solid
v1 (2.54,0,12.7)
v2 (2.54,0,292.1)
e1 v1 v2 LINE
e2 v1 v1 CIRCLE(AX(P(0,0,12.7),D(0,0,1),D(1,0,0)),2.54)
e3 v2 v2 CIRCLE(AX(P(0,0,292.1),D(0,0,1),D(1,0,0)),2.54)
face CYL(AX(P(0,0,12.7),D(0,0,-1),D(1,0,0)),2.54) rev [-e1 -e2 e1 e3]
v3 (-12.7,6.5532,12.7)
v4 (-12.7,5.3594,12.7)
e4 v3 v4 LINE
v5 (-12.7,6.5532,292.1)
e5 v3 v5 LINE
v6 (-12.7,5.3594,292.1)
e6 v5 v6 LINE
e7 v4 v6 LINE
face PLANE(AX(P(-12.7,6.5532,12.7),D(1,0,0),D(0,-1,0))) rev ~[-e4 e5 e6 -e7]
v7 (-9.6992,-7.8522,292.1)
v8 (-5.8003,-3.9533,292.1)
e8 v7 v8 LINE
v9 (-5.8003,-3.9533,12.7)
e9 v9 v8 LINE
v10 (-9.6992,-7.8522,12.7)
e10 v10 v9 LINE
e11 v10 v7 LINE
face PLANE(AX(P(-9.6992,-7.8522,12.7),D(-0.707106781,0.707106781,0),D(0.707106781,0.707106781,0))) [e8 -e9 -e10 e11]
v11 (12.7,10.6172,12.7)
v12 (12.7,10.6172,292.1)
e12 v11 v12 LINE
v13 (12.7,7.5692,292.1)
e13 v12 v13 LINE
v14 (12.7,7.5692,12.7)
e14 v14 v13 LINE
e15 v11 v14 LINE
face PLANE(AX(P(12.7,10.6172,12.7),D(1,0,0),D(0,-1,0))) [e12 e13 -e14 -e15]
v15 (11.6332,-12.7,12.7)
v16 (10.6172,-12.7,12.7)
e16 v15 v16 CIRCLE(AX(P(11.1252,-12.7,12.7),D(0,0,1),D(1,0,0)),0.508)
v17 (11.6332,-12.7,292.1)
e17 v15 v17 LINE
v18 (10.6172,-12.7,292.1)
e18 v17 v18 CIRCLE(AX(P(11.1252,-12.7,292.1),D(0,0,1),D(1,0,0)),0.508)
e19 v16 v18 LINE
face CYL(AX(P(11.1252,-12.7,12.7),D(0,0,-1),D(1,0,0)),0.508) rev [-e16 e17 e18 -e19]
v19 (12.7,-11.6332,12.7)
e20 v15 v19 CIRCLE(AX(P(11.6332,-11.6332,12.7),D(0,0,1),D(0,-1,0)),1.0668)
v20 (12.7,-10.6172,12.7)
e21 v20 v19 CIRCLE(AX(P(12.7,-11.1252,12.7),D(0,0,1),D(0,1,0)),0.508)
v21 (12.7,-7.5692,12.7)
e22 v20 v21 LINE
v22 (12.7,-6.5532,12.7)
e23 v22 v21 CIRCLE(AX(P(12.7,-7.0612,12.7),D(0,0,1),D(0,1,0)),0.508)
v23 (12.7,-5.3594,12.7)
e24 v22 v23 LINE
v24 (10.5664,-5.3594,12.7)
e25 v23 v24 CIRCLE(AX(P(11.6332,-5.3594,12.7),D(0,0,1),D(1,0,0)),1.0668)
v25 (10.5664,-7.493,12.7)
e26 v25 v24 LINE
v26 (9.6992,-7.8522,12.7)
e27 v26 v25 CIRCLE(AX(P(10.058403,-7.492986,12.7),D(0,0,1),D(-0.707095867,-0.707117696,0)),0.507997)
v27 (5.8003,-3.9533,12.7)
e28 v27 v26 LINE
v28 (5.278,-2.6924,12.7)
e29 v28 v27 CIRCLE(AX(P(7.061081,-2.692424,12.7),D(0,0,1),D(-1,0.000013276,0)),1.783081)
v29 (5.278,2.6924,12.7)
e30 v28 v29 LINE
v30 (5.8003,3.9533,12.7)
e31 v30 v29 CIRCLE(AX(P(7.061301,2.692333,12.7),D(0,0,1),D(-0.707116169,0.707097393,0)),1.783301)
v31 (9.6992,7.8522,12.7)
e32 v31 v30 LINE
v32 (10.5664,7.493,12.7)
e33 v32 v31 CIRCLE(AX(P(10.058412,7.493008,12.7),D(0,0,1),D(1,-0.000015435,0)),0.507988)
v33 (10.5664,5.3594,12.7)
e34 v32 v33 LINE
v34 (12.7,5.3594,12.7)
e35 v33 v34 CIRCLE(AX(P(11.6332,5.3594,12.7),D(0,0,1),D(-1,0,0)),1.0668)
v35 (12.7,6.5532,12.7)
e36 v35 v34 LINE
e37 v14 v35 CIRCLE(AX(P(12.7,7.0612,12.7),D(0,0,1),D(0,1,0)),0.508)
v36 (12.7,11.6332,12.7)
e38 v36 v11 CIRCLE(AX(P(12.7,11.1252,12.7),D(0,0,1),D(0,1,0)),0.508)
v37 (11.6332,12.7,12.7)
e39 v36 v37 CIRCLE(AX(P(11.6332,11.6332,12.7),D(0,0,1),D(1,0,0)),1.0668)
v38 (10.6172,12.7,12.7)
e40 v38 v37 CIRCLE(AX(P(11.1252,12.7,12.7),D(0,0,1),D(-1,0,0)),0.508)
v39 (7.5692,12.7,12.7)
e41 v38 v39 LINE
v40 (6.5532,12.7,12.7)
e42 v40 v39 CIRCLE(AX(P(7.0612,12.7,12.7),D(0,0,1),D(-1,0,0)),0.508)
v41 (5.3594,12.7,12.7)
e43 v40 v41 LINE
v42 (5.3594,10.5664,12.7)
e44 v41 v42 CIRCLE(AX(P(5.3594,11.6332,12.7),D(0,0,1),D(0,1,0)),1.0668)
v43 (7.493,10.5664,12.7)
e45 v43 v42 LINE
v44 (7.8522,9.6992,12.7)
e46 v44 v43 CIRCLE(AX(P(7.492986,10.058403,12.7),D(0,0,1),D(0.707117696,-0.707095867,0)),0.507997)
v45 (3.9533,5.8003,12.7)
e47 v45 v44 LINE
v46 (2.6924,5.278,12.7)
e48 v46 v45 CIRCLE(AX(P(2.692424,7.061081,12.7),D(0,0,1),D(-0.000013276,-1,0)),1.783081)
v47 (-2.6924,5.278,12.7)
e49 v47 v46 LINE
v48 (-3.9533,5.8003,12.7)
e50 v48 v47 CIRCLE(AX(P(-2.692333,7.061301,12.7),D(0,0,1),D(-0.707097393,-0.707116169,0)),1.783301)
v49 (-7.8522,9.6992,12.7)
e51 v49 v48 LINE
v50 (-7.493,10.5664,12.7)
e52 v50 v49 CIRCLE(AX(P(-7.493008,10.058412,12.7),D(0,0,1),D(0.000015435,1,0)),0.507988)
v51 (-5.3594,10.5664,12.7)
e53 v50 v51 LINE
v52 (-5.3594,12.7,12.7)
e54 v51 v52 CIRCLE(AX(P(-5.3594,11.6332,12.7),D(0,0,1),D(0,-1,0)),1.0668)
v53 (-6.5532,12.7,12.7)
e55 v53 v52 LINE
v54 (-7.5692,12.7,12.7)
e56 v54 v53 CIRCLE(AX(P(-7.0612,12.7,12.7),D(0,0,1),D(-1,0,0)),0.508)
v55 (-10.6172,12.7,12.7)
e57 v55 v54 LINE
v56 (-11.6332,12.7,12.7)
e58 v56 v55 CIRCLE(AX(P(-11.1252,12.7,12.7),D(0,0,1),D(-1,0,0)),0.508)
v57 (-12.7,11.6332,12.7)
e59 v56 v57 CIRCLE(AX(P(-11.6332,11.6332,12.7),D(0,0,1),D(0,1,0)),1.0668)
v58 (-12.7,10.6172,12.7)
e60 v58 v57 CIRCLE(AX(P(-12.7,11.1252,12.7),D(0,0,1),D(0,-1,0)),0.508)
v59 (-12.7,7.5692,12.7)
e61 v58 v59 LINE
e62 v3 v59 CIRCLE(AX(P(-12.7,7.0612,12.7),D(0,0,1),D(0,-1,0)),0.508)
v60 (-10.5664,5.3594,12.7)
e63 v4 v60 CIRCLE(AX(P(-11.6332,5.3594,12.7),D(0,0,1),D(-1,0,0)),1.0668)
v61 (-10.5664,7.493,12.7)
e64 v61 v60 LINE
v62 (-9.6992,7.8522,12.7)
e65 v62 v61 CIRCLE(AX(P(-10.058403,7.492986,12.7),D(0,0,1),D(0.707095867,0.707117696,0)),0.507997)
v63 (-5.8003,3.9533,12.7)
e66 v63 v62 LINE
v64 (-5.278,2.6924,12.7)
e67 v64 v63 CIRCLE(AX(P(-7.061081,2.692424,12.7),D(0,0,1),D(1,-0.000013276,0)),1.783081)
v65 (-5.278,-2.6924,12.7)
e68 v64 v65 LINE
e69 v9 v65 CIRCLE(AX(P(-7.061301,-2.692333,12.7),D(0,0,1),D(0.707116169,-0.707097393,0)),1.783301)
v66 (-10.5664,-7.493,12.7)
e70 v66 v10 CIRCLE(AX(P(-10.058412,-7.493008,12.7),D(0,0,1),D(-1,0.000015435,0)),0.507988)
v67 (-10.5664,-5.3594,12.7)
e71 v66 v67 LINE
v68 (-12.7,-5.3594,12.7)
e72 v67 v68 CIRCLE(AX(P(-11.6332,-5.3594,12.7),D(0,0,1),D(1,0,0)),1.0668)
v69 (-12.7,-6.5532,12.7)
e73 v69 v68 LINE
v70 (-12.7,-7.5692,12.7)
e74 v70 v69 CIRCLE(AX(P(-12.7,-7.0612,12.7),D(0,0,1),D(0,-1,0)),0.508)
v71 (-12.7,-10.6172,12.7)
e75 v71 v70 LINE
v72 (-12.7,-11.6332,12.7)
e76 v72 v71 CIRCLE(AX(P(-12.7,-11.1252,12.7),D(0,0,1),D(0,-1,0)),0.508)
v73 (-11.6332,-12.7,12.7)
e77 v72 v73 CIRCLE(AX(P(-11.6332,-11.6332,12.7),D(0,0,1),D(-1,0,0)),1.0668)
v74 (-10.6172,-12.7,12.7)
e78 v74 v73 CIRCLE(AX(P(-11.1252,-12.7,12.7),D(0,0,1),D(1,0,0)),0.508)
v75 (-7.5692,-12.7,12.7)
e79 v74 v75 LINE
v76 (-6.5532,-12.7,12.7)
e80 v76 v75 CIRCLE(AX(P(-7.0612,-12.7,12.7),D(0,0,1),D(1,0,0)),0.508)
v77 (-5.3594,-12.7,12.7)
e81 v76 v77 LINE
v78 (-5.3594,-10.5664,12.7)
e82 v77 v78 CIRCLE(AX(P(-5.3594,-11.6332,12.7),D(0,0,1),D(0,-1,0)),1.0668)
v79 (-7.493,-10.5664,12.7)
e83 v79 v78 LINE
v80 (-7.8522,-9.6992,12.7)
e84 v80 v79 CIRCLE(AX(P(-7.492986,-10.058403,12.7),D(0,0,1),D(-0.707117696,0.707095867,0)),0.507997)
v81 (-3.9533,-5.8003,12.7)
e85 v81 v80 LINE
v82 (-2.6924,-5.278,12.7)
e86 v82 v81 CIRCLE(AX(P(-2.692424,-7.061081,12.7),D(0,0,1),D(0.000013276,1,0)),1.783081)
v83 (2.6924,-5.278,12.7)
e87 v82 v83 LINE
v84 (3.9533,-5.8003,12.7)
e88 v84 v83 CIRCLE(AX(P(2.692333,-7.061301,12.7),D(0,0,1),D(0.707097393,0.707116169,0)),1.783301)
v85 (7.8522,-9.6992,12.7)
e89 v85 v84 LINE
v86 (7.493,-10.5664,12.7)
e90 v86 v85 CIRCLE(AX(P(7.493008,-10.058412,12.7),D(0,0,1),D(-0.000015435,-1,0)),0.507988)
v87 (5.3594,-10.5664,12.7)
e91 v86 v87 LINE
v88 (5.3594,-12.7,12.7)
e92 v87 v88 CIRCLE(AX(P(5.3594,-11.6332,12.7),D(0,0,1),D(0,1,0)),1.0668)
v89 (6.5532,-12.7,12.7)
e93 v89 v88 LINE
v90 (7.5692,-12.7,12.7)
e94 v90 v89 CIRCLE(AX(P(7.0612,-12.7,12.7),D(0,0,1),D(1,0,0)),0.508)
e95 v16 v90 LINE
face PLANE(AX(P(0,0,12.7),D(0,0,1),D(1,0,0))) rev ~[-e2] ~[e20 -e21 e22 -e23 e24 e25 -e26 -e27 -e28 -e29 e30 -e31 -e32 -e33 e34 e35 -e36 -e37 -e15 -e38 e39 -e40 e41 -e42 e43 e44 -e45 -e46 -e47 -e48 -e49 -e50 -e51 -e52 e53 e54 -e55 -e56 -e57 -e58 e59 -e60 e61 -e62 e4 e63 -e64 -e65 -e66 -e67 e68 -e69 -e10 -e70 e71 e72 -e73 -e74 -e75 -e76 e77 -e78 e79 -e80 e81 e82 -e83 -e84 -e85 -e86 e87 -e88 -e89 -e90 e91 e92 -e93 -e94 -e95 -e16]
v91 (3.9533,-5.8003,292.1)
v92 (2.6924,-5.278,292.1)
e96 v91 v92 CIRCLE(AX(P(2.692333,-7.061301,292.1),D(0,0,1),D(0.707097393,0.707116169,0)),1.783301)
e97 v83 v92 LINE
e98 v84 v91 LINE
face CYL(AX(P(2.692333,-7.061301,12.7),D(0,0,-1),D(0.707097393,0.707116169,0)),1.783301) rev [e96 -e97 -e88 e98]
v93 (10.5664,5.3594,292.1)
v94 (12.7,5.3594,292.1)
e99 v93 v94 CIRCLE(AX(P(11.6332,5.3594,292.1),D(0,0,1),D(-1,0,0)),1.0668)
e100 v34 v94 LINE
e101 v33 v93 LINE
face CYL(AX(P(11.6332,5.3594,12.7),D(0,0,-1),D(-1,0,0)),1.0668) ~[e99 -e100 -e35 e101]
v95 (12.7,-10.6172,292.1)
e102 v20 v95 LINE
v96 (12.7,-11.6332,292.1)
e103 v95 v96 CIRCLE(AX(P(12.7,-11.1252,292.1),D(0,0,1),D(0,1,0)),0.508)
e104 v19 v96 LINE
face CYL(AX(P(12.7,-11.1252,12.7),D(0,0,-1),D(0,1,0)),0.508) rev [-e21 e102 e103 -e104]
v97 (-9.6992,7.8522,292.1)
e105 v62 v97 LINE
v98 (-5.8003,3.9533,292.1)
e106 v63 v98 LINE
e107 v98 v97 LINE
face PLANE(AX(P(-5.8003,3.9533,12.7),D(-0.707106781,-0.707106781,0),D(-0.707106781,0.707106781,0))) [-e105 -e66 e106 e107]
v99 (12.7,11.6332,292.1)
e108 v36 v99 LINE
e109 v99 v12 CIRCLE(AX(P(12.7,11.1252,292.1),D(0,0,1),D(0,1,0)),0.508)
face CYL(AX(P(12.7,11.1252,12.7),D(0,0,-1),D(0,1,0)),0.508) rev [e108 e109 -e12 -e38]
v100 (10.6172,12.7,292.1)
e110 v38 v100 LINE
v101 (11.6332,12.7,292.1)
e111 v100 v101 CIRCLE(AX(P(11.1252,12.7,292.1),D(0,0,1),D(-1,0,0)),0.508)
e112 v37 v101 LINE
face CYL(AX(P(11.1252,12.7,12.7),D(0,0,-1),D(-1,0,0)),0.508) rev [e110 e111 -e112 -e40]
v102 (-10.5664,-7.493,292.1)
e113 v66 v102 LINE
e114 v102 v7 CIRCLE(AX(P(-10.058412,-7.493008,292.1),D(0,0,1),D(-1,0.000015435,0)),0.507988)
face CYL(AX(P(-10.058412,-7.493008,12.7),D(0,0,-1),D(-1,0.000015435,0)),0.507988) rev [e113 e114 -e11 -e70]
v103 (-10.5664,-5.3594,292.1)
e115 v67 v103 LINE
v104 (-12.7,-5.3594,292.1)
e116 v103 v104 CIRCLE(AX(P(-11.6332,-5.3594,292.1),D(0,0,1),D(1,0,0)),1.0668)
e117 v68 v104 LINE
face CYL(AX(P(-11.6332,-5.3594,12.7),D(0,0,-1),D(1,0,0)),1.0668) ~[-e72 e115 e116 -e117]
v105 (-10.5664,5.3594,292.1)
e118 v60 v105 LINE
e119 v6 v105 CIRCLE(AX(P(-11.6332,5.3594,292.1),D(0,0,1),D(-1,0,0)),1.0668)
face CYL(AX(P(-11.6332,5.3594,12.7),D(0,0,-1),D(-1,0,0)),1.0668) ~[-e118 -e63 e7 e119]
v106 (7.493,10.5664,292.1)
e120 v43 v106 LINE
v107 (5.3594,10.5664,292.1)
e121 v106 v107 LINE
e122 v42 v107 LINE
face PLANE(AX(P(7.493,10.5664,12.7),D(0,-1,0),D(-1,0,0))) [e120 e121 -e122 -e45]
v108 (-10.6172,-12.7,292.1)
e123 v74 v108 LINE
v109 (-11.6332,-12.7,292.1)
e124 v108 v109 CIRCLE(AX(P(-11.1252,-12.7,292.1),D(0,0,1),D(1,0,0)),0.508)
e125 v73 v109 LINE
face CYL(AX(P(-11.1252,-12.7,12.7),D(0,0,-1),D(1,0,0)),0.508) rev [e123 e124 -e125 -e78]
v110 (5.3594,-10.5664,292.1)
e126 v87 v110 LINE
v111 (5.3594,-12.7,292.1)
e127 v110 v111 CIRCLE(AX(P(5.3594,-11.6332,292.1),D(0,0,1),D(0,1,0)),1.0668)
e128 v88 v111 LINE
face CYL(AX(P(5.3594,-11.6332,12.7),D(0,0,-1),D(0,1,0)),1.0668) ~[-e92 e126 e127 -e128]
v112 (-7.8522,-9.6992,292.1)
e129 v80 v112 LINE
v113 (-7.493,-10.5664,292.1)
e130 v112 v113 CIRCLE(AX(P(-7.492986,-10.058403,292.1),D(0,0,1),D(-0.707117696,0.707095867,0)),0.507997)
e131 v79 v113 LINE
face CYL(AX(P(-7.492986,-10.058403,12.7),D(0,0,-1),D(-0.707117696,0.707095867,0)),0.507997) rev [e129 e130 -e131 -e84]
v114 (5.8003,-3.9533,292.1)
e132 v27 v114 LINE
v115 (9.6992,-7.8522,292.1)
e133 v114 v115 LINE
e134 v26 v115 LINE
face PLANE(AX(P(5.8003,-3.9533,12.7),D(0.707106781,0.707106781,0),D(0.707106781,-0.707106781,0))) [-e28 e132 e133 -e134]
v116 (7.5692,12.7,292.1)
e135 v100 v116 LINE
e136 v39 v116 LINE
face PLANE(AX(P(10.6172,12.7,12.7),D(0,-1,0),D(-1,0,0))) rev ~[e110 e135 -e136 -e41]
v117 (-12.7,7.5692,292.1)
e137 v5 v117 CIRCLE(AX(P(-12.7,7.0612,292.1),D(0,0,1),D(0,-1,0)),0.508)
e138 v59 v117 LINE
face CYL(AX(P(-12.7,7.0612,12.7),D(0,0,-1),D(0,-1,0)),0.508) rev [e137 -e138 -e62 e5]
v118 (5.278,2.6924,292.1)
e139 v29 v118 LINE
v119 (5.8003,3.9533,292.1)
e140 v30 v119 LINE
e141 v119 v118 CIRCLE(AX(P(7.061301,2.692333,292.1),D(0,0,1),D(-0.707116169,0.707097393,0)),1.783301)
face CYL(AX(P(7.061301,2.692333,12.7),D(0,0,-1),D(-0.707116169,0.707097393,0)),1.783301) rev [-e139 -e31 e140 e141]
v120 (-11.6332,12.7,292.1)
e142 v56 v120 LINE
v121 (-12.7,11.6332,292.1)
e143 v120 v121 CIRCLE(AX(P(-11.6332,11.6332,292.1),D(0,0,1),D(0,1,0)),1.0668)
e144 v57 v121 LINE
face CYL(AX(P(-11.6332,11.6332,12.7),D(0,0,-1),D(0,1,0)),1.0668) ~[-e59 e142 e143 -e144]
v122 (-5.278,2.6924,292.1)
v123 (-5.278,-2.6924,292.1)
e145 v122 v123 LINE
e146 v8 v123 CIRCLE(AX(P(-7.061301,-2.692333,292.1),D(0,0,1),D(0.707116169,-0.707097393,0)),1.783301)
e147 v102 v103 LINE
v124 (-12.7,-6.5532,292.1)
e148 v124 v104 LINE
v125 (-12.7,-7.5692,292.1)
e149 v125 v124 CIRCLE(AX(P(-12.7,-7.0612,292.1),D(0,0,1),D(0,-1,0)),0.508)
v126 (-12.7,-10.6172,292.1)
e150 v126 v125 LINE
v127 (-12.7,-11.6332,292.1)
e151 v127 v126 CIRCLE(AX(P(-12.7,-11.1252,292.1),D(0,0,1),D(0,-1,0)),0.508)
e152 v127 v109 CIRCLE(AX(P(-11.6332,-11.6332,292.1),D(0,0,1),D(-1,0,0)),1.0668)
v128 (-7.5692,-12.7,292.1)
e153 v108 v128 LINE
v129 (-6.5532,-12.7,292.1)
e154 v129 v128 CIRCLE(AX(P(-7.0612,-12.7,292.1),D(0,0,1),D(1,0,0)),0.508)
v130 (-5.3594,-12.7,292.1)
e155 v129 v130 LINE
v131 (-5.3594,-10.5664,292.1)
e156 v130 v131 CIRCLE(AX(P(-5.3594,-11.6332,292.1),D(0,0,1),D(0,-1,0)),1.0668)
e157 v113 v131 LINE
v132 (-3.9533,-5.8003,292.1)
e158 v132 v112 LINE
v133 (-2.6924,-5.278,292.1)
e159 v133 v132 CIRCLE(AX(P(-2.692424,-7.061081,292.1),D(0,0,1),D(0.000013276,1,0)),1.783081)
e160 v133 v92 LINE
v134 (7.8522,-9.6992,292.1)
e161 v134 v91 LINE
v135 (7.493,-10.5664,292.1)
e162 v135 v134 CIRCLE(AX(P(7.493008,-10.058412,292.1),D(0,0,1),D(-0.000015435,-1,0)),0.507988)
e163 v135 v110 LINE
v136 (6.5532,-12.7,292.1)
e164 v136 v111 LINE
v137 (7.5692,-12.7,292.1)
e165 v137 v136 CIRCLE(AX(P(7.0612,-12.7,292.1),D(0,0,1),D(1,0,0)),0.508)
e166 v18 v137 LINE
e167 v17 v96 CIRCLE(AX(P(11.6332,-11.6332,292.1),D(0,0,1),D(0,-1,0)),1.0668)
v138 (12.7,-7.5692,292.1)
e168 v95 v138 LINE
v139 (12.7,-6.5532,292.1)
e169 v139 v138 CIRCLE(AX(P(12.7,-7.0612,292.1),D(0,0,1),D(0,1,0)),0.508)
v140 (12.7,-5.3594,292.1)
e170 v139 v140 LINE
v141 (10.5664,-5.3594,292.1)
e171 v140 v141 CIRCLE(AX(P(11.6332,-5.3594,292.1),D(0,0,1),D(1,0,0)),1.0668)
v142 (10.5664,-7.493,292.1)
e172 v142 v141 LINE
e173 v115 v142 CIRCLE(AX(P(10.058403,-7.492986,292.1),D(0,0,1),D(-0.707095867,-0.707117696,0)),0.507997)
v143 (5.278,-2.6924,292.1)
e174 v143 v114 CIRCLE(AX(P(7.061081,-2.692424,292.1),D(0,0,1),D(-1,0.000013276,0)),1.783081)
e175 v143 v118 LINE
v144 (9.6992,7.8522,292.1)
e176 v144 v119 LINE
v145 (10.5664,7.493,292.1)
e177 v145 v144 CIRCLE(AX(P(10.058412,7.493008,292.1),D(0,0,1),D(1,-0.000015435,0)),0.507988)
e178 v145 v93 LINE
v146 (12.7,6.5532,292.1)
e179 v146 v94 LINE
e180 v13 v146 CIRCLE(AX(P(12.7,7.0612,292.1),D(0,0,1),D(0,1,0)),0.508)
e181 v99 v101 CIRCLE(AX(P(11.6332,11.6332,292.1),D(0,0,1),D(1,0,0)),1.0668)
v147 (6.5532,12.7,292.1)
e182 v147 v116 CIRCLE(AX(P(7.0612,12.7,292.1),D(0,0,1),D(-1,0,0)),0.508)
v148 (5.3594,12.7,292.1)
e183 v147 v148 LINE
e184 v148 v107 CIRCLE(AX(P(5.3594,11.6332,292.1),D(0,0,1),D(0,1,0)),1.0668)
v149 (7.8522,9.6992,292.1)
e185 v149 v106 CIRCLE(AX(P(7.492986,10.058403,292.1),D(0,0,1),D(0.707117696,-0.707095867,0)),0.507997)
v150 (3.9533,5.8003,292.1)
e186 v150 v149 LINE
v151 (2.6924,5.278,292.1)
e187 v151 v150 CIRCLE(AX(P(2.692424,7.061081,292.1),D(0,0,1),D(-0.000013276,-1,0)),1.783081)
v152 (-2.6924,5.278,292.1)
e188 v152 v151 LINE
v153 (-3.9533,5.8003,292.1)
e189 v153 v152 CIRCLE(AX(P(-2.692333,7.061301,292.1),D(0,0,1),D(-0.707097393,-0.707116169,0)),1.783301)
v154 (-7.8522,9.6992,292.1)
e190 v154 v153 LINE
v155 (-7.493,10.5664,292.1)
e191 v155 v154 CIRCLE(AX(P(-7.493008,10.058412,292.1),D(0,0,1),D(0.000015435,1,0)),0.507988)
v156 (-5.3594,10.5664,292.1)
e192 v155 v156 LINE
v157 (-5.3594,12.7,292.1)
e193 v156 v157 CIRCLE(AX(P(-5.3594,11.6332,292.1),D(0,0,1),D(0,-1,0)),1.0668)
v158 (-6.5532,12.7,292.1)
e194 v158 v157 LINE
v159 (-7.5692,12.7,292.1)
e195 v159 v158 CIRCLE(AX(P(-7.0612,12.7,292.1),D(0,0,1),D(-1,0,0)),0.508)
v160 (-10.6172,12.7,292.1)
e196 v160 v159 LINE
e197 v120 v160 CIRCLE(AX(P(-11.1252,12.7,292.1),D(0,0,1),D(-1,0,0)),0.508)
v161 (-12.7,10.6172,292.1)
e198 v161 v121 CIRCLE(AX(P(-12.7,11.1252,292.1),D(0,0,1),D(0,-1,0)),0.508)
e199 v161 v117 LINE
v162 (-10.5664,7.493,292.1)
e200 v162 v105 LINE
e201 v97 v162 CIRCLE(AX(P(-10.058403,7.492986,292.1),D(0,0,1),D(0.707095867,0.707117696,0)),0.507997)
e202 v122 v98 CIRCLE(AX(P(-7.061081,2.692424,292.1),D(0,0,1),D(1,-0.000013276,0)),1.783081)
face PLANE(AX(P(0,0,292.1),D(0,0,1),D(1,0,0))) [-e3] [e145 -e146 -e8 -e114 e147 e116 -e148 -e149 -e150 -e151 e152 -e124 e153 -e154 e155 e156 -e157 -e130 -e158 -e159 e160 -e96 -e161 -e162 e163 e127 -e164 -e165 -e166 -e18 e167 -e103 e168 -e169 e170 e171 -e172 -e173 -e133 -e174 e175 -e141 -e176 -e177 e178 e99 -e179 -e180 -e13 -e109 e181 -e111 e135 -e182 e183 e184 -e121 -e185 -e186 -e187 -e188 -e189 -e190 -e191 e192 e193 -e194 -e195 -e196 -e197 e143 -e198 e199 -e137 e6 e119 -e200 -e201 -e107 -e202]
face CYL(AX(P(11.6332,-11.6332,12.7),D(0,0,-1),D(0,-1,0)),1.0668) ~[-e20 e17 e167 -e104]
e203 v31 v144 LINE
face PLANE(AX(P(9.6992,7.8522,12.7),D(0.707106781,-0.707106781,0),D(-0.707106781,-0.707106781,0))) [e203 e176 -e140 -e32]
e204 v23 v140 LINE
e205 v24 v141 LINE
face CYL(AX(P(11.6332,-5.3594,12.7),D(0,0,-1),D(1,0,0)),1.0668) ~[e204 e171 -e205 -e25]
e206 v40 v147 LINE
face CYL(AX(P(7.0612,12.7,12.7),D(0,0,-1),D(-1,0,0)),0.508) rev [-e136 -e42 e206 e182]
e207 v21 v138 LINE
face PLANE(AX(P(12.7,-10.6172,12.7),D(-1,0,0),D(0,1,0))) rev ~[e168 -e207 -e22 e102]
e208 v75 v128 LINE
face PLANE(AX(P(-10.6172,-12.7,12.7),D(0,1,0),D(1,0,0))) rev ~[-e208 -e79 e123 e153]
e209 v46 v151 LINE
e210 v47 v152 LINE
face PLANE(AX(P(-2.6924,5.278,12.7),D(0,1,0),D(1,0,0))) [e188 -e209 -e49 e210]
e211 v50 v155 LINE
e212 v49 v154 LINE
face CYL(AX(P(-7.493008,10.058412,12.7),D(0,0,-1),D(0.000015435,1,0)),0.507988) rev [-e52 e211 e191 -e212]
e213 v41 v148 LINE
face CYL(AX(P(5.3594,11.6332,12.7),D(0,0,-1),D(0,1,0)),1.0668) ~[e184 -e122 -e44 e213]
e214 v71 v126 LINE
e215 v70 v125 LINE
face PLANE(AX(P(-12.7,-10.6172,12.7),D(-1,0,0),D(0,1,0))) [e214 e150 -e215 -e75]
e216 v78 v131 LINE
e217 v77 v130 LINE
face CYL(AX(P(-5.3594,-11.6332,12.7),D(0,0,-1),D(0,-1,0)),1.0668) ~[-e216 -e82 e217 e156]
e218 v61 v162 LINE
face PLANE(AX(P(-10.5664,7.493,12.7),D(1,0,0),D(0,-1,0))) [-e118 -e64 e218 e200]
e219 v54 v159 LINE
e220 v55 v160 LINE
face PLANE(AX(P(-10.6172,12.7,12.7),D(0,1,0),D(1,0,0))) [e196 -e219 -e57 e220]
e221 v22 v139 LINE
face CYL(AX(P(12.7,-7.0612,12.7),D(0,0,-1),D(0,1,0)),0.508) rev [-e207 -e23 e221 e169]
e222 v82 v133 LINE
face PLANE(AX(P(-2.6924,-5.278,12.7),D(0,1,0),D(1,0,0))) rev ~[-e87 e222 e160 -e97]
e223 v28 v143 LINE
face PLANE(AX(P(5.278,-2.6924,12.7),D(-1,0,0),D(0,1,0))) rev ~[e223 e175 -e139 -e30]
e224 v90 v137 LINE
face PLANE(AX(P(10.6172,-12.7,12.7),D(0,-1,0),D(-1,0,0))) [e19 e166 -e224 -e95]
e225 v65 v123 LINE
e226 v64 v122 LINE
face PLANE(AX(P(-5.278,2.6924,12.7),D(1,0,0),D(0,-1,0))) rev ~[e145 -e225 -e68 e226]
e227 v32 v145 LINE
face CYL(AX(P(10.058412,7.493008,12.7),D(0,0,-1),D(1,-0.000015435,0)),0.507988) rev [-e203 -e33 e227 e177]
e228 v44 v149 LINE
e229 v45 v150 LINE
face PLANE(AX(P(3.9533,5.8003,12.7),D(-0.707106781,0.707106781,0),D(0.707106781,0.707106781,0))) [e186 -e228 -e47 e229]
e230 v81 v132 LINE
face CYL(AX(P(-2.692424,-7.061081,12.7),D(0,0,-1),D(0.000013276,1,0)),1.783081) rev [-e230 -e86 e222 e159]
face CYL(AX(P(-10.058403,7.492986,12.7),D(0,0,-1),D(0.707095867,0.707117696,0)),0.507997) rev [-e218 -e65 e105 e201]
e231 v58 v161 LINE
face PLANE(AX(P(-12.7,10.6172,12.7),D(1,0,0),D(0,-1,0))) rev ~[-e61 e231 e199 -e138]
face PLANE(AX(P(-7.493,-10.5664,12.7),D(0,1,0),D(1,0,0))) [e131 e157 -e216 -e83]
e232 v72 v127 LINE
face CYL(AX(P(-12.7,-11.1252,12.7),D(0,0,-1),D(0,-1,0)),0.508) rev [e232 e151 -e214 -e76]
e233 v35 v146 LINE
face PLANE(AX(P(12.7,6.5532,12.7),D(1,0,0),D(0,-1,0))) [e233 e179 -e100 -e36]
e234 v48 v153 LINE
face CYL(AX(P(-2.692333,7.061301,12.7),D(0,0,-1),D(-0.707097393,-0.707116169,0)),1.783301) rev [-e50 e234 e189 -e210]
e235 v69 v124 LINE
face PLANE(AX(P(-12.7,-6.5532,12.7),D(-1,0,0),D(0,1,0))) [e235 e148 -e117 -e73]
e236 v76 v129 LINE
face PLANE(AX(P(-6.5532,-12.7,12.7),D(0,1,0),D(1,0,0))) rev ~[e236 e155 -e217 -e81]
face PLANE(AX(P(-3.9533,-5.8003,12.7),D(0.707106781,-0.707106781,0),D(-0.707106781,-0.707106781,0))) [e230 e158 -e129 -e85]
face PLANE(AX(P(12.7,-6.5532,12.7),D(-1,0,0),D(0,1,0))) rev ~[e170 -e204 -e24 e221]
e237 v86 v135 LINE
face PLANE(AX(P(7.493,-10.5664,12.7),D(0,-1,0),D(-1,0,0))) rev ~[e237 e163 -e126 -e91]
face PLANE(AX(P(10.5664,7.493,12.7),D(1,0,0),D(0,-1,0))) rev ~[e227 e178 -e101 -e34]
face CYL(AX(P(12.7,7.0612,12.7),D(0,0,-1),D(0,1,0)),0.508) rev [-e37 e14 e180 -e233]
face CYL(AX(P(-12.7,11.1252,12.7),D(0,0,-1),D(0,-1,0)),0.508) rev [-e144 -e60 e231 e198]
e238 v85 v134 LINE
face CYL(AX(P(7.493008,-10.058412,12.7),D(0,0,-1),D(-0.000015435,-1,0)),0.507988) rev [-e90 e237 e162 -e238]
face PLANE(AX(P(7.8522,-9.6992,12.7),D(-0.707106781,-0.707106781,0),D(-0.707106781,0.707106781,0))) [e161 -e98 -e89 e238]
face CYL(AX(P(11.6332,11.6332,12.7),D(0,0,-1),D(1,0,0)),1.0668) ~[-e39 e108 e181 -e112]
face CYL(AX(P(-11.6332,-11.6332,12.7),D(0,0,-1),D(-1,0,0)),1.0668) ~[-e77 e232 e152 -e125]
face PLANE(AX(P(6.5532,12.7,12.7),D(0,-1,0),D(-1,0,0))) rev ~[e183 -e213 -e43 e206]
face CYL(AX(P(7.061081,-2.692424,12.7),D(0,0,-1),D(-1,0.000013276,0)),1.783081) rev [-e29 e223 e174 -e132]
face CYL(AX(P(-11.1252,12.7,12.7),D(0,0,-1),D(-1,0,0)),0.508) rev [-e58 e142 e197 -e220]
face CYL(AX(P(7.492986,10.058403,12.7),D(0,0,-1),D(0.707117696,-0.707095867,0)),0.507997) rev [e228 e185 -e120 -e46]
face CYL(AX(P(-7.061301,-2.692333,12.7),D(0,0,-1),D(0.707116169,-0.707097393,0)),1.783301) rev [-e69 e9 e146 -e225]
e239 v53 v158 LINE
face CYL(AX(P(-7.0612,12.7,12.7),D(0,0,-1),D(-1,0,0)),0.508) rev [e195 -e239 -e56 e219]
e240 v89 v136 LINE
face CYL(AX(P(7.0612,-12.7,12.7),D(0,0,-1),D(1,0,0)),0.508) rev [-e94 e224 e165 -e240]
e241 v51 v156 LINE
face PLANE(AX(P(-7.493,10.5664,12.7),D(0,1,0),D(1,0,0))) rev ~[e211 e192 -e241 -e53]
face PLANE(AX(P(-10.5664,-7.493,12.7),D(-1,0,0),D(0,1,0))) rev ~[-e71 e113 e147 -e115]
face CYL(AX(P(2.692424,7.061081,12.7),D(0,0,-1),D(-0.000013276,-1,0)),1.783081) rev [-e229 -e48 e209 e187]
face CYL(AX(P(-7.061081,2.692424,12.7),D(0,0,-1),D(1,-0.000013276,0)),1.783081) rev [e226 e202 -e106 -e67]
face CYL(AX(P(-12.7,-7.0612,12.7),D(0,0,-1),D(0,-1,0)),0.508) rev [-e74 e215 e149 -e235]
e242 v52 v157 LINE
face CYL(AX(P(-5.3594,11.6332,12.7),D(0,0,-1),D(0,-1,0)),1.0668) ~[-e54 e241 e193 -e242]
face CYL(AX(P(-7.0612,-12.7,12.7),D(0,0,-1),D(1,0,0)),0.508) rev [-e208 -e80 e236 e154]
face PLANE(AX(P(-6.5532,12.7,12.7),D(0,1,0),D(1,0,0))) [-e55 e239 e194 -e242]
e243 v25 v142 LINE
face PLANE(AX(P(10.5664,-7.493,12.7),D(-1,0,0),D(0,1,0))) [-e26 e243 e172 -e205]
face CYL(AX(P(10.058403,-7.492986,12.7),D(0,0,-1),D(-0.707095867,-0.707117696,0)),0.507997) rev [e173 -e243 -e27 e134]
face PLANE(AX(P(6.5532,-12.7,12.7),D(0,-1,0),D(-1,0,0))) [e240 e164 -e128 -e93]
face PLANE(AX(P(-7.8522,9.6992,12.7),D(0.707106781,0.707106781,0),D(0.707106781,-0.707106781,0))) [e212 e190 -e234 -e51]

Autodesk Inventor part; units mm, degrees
ref_plane "Start Plane" through (0, 0, 12.7) normal (0, 0, 1) x (1, 0, 0)
ref_plane "End Plane" through (0, 0, 292.1) normal (0, 0, 1) x (1, 0, 0)
sketch "Sketch" plane through (0, 0, 0) normal (0, 0, 1) x (1, 0, 0)
  arc A0 (-11.6332, 12.7) -> (-12.7, 11.6332) centre (-11.6332, 11.6332) ccw
  arc A1 (-5.3594, 10.5664) -> (-5.3594, 12.7) centre (-5.3594, 11.6332) ccw
  arc A2 (-12.7, 5.3594) -> (-10.5664, 5.3594) centre (-11.6332, 5.3594) ccw
  line L0 (-10.5664, 7.493) -> (-10.5664, 5.3594)
  line L1 (-7.493, 10.5664) -> (-5.3594, 10.5664)
  arc A3 (-9.6992, 7.8522) -> (-10.5664, 7.493) centre (-10.0584, 7.493) ccw
  arc A4 (-7.493, 10.5664) -> (-7.8522, 9.6992) centre (-7.493, 10.0584) ccw
  line L2 (-11.6332, 11.6332) -> (0, 0) construction
  line L3 (-5.8003, 3.9533) -> (-9.6992, 7.8522)
  line L4 (-7.8522, 9.6992) -> (-3.9533, 5.8003)
  arc A5 (-3.9533, 5.8003) -> (-2.6924, 5.278) centre (-2.6924, 7.0612) ccw
  arc A6 (-5.278, 2.6924) -> (-5.8003, 3.9533) centre (-7.0612, 2.6924) ccw
  arc A7 (0, 2.54) -> (-2.54, 0) centre (0, 0) ccw construction
  line L5 (0, 0) -> (-12.7, 0) construction
  line L6 (0, 12.7) -> (0, 0) construction
  arc A8 (-11.6332, 12.7) -> (-10.6172, 12.7) centre (-11.1252, 12.7) ccw
  arc A9 (-7.5692, 12.7) -> (-6.5532, 12.7) centre (-7.0612, 12.7) ccw
  arc A10 (-12.7, 10.6172) -> (-12.7, 11.6332) centre (-12.7, 11.1252) ccw
  arc A11 (-12.7, 6.5532) -> (-12.7, 7.5692) centre (-12.7, 7.0612) ccw
  line L7 (-12.7, 10.6172) -> (-12.7, 7.5692)
  line L8 (-12.7, 6.5532) -> (-12.7, 5.3594)
  line L9 (-10.6172, 12.7) -> (-7.5692, 12.7)
  line L10 (-6.5532, 12.7) -> (-5.3594, 12.7)
  circle A12 centre (0, 0) radius 2.54
  arc A13 (-12.7, -11.6332) -> (-11.6332, -12.7) centre (-11.6332, -11.6332) ccw
  line L11 (-12.7, -10.6172) -> (-12.7, -7.5692)
  arc A14 (-10.5664, -7.493) -> (-9.6992, -7.8522) centre (-10.0584, -7.493) ccw
  line L12 (-9.6992, -7.8522) -> (-5.8003, -3.9533)
  line L13 (-11.6332, -11.6332) -> (0, 0) construction
  line L14 (-3.9533, -5.8003) -> (-7.8522, -9.6992)
  arc A15 (-7.8522, -9.6992) -> (-7.493, -10.5664) centre (-7.493, -10.0584) ccw
  line L15 (-10.6172, -12.7) -> (-7.5692, -12.7)
  line L16 (-7.493, -10.5664) -> (-5.3594, -10.5664)
  arc A16 (-6.5532, -12.7) -> (-7.5692, -12.7) centre (-7.0612, -12.7) ccw
  line L17 (-6.5532, -12.7) -> (-5.3594, -12.7)
  arc A17 (-5.3594, -12.7) -> (-5.3594, -10.5664) centre (-5.3594, -11.6332) ccw
  arc A18 (-10.6172, -12.7) -> (-11.6332, -12.7) centre (-11.1252, -12.7) ccw
  arc A19 (-12.7, -11.6332) -> (-12.7, -10.6172) centre (-12.7, -11.1252) ccw
  arc A20 (-2.6924, -5.278) -> (-3.9533, -5.8003) centre (-2.6924, -7.0612) ccw
  arc A21 (-5.8003, -3.9533) -> (-5.278, -2.6924) centre (-7.0612, -2.6924) ccw
  line L18 (-10.5664, -7.493) -> (-10.5664, -5.3594)
  line L19 (-12.7, -6.5532) -> (-12.7, -5.3594)
  arc A22 (-10.5664, -5.3594) -> (-12.7, -5.3594) centre (-11.6332, -5.3594) ccw
  arc A23 (-12.7, -7.5692) -> (-12.7, -6.5532) centre (-12.7, -7.0612) ccw
  arc A24 (11.6332, -12.7) -> (12.7, -11.6332) centre (11.6332, -11.6332) ccw
  line L20 (10.6172, -12.7) -> (7.5692, -12.7)
  arc A25 (7.493, -10.5664) -> (7.8522, -9.6992) centre (7.493, -10.0584) ccw
  line L21 (7.8522, -9.6992) -> (3.9533, -5.8003)
  line L22 (11.6332, -11.6332) -> (0, 0) construction
  line L23 (5.8003, -3.9533) -> (9.6992, -7.8522)
  arc A26 (9.6992, -7.8522) -> (10.5664, -7.493) centre (10.0584, -7.493) ccw
  line L24 (12.7, -10.6172) -> (12.7, -7.5692)
  line L25 (10.5664, -7.493) -> (10.5664, -5.3594)
  arc A27 (12.7, -6.5532) -> (12.7, -7.5692) centre (12.7, -7.0612) ccw
  line L26 (12.7, -6.5532) -> (12.7, -5.3594)
  arc A28 (12.7, -5.3594) -> (10.5664, -5.3594) centre (11.6332, -5.3594) ccw
  arc A29 (12.7, -10.6172) -> (12.7, -11.6332) centre (12.7, -11.1252) ccw
  arc A30 (11.6332, -12.7) -> (10.6172, -12.7) centre (11.1252, -12.7) ccw
  arc A31 (5.278, -2.6924) -> (5.8003, -3.9533) centre (7.0612, -2.6924) ccw
  arc A32 (3.9533, -5.8003) -> (2.6924, -5.278) centre (2.6924, -7.0612) ccw
  line L27 (7.493, -10.5664) -> (5.3594, -10.5664)
  line L28 (6.5532, -12.7) -> (5.3594, -12.7)
  arc A33 (5.3594, -10.5664) -> (5.3594, -12.7) centre (5.3594, -11.6332) ccw
  arc A34 (7.5692, -12.7) -> (6.5532, -12.7) centre (7.0612, -12.7) ccw
  arc A35 (12.7, 11.6332) -> (11.6332, 12.7) centre (11.6332, 11.6332) ccw
  line L29 (12.7, 10.6172) -> (12.7, 7.5692)
  arc A36 (10.5664, 7.493) -> (9.6992, 7.8522) centre (10.0584, 7.493) ccw
  line L30 (9.6992, 7.8522) -> (5.8003, 3.9533)
  line L31 (11.6332, 11.6332) -> (0, 0) construction
  line L32 (3.9533, 5.8003) -> (7.8522, 9.6992)
  arc A37 (7.8522, 9.6992) -> (7.493, 10.5664) centre (7.493, 10.0584) ccw
  line L33 (10.6172, 12.7) -> (7.5692, 12.7)
  line L34 (7.493, 10.5664) -> (5.3594, 10.5664)
  arc A38 (6.5532, 12.7) -> (7.5692, 12.7) centre (7.0612, 12.7) ccw
  line L35 (6.5532, 12.7) -> (5.3594, 12.7)
  arc A39 (5.3594, 12.7) -> (5.3594, 10.5664) centre (5.3594, 11.6332) ccw
  arc A40 (10.6172, 12.7) -> (11.6332, 12.7) centre (11.1252, 12.7) ccw
  arc A41 (12.7, 11.6332) -> (12.7, 10.6172) centre (12.7, 11.1252) ccw
  arc A42 (2.6924, 5.278) -> (3.9533, 5.8003) centre (2.6924, 7.0612) ccw
  arc A43 (5.8003, 3.9533) -> (5.278, 2.6924) centre (7.0612, 2.6924) ccw
  line L36 (10.5664, 7.493) -> (10.5664, 5.3594)
  line L37 (12.7, 6.5532) -> (12.7, 5.3594)
  arc A44 (10.5664, 5.3594) -> (12.7, 5.3594) centre (11.6332, 5.3594) ccw
  arc A45 (12.7, 7.5692) -> (12.7, 6.5532) centre (12.7, 7.0612) ccw
  line L38 (-2.6924, 5.278) -> (2.6924, 5.278)
  line L39 (-5.278, 2.6924) -> (-5.278, -2.6924)
  line L40 (-2.6924, -5.278) -> (2.6924, -5.278)
  line L41 (5.278, -2.6924) -> (5.278, 2.6924)
  point P0 (0, 0)
  point P1 (0, 0)
  dimension "d2" = 2.1336
  dimension "d3" = 6.2738
  dimension "d4" = 6.2738
  dimension "d5" = 1.0668
  dimension "d6" = 2.1336
  dimension "d7" = 2.1336
  dimension "d8" = 1.016
  dimension "d9" = 1.016
  dimension "d10" = 135
  dimension "d11" = 2.667
  dimension "d12" = 4.572
  dimension "d13" = 4.572
  dimension "d14" = 2.667
  dimension "d15" = 5.08
  dimension "d16" = 45
  dimension "d19" = 45
  dimension "d20" = 0.508
  dimension "d21" = 4.572
  dimension "d22" = 1.016
  dimension "d23" = 4.572
  dimension "d24" = 1.016
  dimension "d25" = 0.508
  dimension "d26" = 0.508
  dimension "d27" = 0.508
  dimension "d28" = 12.7
  dimension "d37" = 360
  dimension "d47" = 10.5664
  dimension "d48" = 12.7
extrude "Body" add sketch "Sketch" along normal up to surface (279.4 mm away) from surface at 12.7
sketch "Sketch2" plane through (0, 0, 0) normal (0, 0, 1) x (1, 0, 0)
  line L0 (0, 0) -> (10, 0)
ref_plane "Work Plane3" through (0, 0, 0) normal (0, -1, 0) x (1, 0, 0)
sketch "Sketch3" plane through (0, 0, 0) normal (0, -1, 0) x (1, 0, 0)
  line L0 (-2, 12.7) -> (12, 12.7)
  line L1 (-2, 292.1) -> (12, 292.1)
  dimension "d60" = 279.4
ref_plane "Work Plane4" through (10.6172, -279.4, 12.7) normal (0, 0, -1) x (-1, 0, 0)
split "Split1" plane through (10.6172, -279.4, 12.7) removes the side toward (0, 0, -1)
ref_plane "Work Plane5" through (1193.8, 10.6172, 292.1) normal (0, 0, 1) x (1, 0, 0)
split "Split2" plane through (1193.8, 10.6172, 292.1) removes the side toward (0, 0, 1)
ref_plane "Work Plane6" through (7.5692, 0, 292.1) normal (0, 0, 1) x (1, 0, 0)
split "Split3" plane through (7.5692, 0, 292.1) removes the side toward (0, 0, 1)
equation "\"d3\" = d4"
equation "\"d6\" = d7"
equation "\"d11\" = d14"
equation "\"d12\" = d13"
equation "\"d23\" = d21"
equation "\"d24\" = d30"
equation "\"d26\" = 0.5 * d24"
equation "\"d27\" = 0.5 * d22"
equation "\"Width\" = 2 * d28"
equation "\"Height\" = 2 * d48"
equation "\"G_OFFSET_START\" = -12.7"
equation "\"G_OFFSET_END\" = 12.7"
equation "\"d55\" = -G_OFFSET_START"
equation "\"d56\" = Length + G_OFFSET_END"
equation "\"G_L\" = 279.4"
equation "\"d30\" = 1.016"
equation "\"Length\" = 279.4"
properties part number "1010_80_20" material "Aluminum-6061"
